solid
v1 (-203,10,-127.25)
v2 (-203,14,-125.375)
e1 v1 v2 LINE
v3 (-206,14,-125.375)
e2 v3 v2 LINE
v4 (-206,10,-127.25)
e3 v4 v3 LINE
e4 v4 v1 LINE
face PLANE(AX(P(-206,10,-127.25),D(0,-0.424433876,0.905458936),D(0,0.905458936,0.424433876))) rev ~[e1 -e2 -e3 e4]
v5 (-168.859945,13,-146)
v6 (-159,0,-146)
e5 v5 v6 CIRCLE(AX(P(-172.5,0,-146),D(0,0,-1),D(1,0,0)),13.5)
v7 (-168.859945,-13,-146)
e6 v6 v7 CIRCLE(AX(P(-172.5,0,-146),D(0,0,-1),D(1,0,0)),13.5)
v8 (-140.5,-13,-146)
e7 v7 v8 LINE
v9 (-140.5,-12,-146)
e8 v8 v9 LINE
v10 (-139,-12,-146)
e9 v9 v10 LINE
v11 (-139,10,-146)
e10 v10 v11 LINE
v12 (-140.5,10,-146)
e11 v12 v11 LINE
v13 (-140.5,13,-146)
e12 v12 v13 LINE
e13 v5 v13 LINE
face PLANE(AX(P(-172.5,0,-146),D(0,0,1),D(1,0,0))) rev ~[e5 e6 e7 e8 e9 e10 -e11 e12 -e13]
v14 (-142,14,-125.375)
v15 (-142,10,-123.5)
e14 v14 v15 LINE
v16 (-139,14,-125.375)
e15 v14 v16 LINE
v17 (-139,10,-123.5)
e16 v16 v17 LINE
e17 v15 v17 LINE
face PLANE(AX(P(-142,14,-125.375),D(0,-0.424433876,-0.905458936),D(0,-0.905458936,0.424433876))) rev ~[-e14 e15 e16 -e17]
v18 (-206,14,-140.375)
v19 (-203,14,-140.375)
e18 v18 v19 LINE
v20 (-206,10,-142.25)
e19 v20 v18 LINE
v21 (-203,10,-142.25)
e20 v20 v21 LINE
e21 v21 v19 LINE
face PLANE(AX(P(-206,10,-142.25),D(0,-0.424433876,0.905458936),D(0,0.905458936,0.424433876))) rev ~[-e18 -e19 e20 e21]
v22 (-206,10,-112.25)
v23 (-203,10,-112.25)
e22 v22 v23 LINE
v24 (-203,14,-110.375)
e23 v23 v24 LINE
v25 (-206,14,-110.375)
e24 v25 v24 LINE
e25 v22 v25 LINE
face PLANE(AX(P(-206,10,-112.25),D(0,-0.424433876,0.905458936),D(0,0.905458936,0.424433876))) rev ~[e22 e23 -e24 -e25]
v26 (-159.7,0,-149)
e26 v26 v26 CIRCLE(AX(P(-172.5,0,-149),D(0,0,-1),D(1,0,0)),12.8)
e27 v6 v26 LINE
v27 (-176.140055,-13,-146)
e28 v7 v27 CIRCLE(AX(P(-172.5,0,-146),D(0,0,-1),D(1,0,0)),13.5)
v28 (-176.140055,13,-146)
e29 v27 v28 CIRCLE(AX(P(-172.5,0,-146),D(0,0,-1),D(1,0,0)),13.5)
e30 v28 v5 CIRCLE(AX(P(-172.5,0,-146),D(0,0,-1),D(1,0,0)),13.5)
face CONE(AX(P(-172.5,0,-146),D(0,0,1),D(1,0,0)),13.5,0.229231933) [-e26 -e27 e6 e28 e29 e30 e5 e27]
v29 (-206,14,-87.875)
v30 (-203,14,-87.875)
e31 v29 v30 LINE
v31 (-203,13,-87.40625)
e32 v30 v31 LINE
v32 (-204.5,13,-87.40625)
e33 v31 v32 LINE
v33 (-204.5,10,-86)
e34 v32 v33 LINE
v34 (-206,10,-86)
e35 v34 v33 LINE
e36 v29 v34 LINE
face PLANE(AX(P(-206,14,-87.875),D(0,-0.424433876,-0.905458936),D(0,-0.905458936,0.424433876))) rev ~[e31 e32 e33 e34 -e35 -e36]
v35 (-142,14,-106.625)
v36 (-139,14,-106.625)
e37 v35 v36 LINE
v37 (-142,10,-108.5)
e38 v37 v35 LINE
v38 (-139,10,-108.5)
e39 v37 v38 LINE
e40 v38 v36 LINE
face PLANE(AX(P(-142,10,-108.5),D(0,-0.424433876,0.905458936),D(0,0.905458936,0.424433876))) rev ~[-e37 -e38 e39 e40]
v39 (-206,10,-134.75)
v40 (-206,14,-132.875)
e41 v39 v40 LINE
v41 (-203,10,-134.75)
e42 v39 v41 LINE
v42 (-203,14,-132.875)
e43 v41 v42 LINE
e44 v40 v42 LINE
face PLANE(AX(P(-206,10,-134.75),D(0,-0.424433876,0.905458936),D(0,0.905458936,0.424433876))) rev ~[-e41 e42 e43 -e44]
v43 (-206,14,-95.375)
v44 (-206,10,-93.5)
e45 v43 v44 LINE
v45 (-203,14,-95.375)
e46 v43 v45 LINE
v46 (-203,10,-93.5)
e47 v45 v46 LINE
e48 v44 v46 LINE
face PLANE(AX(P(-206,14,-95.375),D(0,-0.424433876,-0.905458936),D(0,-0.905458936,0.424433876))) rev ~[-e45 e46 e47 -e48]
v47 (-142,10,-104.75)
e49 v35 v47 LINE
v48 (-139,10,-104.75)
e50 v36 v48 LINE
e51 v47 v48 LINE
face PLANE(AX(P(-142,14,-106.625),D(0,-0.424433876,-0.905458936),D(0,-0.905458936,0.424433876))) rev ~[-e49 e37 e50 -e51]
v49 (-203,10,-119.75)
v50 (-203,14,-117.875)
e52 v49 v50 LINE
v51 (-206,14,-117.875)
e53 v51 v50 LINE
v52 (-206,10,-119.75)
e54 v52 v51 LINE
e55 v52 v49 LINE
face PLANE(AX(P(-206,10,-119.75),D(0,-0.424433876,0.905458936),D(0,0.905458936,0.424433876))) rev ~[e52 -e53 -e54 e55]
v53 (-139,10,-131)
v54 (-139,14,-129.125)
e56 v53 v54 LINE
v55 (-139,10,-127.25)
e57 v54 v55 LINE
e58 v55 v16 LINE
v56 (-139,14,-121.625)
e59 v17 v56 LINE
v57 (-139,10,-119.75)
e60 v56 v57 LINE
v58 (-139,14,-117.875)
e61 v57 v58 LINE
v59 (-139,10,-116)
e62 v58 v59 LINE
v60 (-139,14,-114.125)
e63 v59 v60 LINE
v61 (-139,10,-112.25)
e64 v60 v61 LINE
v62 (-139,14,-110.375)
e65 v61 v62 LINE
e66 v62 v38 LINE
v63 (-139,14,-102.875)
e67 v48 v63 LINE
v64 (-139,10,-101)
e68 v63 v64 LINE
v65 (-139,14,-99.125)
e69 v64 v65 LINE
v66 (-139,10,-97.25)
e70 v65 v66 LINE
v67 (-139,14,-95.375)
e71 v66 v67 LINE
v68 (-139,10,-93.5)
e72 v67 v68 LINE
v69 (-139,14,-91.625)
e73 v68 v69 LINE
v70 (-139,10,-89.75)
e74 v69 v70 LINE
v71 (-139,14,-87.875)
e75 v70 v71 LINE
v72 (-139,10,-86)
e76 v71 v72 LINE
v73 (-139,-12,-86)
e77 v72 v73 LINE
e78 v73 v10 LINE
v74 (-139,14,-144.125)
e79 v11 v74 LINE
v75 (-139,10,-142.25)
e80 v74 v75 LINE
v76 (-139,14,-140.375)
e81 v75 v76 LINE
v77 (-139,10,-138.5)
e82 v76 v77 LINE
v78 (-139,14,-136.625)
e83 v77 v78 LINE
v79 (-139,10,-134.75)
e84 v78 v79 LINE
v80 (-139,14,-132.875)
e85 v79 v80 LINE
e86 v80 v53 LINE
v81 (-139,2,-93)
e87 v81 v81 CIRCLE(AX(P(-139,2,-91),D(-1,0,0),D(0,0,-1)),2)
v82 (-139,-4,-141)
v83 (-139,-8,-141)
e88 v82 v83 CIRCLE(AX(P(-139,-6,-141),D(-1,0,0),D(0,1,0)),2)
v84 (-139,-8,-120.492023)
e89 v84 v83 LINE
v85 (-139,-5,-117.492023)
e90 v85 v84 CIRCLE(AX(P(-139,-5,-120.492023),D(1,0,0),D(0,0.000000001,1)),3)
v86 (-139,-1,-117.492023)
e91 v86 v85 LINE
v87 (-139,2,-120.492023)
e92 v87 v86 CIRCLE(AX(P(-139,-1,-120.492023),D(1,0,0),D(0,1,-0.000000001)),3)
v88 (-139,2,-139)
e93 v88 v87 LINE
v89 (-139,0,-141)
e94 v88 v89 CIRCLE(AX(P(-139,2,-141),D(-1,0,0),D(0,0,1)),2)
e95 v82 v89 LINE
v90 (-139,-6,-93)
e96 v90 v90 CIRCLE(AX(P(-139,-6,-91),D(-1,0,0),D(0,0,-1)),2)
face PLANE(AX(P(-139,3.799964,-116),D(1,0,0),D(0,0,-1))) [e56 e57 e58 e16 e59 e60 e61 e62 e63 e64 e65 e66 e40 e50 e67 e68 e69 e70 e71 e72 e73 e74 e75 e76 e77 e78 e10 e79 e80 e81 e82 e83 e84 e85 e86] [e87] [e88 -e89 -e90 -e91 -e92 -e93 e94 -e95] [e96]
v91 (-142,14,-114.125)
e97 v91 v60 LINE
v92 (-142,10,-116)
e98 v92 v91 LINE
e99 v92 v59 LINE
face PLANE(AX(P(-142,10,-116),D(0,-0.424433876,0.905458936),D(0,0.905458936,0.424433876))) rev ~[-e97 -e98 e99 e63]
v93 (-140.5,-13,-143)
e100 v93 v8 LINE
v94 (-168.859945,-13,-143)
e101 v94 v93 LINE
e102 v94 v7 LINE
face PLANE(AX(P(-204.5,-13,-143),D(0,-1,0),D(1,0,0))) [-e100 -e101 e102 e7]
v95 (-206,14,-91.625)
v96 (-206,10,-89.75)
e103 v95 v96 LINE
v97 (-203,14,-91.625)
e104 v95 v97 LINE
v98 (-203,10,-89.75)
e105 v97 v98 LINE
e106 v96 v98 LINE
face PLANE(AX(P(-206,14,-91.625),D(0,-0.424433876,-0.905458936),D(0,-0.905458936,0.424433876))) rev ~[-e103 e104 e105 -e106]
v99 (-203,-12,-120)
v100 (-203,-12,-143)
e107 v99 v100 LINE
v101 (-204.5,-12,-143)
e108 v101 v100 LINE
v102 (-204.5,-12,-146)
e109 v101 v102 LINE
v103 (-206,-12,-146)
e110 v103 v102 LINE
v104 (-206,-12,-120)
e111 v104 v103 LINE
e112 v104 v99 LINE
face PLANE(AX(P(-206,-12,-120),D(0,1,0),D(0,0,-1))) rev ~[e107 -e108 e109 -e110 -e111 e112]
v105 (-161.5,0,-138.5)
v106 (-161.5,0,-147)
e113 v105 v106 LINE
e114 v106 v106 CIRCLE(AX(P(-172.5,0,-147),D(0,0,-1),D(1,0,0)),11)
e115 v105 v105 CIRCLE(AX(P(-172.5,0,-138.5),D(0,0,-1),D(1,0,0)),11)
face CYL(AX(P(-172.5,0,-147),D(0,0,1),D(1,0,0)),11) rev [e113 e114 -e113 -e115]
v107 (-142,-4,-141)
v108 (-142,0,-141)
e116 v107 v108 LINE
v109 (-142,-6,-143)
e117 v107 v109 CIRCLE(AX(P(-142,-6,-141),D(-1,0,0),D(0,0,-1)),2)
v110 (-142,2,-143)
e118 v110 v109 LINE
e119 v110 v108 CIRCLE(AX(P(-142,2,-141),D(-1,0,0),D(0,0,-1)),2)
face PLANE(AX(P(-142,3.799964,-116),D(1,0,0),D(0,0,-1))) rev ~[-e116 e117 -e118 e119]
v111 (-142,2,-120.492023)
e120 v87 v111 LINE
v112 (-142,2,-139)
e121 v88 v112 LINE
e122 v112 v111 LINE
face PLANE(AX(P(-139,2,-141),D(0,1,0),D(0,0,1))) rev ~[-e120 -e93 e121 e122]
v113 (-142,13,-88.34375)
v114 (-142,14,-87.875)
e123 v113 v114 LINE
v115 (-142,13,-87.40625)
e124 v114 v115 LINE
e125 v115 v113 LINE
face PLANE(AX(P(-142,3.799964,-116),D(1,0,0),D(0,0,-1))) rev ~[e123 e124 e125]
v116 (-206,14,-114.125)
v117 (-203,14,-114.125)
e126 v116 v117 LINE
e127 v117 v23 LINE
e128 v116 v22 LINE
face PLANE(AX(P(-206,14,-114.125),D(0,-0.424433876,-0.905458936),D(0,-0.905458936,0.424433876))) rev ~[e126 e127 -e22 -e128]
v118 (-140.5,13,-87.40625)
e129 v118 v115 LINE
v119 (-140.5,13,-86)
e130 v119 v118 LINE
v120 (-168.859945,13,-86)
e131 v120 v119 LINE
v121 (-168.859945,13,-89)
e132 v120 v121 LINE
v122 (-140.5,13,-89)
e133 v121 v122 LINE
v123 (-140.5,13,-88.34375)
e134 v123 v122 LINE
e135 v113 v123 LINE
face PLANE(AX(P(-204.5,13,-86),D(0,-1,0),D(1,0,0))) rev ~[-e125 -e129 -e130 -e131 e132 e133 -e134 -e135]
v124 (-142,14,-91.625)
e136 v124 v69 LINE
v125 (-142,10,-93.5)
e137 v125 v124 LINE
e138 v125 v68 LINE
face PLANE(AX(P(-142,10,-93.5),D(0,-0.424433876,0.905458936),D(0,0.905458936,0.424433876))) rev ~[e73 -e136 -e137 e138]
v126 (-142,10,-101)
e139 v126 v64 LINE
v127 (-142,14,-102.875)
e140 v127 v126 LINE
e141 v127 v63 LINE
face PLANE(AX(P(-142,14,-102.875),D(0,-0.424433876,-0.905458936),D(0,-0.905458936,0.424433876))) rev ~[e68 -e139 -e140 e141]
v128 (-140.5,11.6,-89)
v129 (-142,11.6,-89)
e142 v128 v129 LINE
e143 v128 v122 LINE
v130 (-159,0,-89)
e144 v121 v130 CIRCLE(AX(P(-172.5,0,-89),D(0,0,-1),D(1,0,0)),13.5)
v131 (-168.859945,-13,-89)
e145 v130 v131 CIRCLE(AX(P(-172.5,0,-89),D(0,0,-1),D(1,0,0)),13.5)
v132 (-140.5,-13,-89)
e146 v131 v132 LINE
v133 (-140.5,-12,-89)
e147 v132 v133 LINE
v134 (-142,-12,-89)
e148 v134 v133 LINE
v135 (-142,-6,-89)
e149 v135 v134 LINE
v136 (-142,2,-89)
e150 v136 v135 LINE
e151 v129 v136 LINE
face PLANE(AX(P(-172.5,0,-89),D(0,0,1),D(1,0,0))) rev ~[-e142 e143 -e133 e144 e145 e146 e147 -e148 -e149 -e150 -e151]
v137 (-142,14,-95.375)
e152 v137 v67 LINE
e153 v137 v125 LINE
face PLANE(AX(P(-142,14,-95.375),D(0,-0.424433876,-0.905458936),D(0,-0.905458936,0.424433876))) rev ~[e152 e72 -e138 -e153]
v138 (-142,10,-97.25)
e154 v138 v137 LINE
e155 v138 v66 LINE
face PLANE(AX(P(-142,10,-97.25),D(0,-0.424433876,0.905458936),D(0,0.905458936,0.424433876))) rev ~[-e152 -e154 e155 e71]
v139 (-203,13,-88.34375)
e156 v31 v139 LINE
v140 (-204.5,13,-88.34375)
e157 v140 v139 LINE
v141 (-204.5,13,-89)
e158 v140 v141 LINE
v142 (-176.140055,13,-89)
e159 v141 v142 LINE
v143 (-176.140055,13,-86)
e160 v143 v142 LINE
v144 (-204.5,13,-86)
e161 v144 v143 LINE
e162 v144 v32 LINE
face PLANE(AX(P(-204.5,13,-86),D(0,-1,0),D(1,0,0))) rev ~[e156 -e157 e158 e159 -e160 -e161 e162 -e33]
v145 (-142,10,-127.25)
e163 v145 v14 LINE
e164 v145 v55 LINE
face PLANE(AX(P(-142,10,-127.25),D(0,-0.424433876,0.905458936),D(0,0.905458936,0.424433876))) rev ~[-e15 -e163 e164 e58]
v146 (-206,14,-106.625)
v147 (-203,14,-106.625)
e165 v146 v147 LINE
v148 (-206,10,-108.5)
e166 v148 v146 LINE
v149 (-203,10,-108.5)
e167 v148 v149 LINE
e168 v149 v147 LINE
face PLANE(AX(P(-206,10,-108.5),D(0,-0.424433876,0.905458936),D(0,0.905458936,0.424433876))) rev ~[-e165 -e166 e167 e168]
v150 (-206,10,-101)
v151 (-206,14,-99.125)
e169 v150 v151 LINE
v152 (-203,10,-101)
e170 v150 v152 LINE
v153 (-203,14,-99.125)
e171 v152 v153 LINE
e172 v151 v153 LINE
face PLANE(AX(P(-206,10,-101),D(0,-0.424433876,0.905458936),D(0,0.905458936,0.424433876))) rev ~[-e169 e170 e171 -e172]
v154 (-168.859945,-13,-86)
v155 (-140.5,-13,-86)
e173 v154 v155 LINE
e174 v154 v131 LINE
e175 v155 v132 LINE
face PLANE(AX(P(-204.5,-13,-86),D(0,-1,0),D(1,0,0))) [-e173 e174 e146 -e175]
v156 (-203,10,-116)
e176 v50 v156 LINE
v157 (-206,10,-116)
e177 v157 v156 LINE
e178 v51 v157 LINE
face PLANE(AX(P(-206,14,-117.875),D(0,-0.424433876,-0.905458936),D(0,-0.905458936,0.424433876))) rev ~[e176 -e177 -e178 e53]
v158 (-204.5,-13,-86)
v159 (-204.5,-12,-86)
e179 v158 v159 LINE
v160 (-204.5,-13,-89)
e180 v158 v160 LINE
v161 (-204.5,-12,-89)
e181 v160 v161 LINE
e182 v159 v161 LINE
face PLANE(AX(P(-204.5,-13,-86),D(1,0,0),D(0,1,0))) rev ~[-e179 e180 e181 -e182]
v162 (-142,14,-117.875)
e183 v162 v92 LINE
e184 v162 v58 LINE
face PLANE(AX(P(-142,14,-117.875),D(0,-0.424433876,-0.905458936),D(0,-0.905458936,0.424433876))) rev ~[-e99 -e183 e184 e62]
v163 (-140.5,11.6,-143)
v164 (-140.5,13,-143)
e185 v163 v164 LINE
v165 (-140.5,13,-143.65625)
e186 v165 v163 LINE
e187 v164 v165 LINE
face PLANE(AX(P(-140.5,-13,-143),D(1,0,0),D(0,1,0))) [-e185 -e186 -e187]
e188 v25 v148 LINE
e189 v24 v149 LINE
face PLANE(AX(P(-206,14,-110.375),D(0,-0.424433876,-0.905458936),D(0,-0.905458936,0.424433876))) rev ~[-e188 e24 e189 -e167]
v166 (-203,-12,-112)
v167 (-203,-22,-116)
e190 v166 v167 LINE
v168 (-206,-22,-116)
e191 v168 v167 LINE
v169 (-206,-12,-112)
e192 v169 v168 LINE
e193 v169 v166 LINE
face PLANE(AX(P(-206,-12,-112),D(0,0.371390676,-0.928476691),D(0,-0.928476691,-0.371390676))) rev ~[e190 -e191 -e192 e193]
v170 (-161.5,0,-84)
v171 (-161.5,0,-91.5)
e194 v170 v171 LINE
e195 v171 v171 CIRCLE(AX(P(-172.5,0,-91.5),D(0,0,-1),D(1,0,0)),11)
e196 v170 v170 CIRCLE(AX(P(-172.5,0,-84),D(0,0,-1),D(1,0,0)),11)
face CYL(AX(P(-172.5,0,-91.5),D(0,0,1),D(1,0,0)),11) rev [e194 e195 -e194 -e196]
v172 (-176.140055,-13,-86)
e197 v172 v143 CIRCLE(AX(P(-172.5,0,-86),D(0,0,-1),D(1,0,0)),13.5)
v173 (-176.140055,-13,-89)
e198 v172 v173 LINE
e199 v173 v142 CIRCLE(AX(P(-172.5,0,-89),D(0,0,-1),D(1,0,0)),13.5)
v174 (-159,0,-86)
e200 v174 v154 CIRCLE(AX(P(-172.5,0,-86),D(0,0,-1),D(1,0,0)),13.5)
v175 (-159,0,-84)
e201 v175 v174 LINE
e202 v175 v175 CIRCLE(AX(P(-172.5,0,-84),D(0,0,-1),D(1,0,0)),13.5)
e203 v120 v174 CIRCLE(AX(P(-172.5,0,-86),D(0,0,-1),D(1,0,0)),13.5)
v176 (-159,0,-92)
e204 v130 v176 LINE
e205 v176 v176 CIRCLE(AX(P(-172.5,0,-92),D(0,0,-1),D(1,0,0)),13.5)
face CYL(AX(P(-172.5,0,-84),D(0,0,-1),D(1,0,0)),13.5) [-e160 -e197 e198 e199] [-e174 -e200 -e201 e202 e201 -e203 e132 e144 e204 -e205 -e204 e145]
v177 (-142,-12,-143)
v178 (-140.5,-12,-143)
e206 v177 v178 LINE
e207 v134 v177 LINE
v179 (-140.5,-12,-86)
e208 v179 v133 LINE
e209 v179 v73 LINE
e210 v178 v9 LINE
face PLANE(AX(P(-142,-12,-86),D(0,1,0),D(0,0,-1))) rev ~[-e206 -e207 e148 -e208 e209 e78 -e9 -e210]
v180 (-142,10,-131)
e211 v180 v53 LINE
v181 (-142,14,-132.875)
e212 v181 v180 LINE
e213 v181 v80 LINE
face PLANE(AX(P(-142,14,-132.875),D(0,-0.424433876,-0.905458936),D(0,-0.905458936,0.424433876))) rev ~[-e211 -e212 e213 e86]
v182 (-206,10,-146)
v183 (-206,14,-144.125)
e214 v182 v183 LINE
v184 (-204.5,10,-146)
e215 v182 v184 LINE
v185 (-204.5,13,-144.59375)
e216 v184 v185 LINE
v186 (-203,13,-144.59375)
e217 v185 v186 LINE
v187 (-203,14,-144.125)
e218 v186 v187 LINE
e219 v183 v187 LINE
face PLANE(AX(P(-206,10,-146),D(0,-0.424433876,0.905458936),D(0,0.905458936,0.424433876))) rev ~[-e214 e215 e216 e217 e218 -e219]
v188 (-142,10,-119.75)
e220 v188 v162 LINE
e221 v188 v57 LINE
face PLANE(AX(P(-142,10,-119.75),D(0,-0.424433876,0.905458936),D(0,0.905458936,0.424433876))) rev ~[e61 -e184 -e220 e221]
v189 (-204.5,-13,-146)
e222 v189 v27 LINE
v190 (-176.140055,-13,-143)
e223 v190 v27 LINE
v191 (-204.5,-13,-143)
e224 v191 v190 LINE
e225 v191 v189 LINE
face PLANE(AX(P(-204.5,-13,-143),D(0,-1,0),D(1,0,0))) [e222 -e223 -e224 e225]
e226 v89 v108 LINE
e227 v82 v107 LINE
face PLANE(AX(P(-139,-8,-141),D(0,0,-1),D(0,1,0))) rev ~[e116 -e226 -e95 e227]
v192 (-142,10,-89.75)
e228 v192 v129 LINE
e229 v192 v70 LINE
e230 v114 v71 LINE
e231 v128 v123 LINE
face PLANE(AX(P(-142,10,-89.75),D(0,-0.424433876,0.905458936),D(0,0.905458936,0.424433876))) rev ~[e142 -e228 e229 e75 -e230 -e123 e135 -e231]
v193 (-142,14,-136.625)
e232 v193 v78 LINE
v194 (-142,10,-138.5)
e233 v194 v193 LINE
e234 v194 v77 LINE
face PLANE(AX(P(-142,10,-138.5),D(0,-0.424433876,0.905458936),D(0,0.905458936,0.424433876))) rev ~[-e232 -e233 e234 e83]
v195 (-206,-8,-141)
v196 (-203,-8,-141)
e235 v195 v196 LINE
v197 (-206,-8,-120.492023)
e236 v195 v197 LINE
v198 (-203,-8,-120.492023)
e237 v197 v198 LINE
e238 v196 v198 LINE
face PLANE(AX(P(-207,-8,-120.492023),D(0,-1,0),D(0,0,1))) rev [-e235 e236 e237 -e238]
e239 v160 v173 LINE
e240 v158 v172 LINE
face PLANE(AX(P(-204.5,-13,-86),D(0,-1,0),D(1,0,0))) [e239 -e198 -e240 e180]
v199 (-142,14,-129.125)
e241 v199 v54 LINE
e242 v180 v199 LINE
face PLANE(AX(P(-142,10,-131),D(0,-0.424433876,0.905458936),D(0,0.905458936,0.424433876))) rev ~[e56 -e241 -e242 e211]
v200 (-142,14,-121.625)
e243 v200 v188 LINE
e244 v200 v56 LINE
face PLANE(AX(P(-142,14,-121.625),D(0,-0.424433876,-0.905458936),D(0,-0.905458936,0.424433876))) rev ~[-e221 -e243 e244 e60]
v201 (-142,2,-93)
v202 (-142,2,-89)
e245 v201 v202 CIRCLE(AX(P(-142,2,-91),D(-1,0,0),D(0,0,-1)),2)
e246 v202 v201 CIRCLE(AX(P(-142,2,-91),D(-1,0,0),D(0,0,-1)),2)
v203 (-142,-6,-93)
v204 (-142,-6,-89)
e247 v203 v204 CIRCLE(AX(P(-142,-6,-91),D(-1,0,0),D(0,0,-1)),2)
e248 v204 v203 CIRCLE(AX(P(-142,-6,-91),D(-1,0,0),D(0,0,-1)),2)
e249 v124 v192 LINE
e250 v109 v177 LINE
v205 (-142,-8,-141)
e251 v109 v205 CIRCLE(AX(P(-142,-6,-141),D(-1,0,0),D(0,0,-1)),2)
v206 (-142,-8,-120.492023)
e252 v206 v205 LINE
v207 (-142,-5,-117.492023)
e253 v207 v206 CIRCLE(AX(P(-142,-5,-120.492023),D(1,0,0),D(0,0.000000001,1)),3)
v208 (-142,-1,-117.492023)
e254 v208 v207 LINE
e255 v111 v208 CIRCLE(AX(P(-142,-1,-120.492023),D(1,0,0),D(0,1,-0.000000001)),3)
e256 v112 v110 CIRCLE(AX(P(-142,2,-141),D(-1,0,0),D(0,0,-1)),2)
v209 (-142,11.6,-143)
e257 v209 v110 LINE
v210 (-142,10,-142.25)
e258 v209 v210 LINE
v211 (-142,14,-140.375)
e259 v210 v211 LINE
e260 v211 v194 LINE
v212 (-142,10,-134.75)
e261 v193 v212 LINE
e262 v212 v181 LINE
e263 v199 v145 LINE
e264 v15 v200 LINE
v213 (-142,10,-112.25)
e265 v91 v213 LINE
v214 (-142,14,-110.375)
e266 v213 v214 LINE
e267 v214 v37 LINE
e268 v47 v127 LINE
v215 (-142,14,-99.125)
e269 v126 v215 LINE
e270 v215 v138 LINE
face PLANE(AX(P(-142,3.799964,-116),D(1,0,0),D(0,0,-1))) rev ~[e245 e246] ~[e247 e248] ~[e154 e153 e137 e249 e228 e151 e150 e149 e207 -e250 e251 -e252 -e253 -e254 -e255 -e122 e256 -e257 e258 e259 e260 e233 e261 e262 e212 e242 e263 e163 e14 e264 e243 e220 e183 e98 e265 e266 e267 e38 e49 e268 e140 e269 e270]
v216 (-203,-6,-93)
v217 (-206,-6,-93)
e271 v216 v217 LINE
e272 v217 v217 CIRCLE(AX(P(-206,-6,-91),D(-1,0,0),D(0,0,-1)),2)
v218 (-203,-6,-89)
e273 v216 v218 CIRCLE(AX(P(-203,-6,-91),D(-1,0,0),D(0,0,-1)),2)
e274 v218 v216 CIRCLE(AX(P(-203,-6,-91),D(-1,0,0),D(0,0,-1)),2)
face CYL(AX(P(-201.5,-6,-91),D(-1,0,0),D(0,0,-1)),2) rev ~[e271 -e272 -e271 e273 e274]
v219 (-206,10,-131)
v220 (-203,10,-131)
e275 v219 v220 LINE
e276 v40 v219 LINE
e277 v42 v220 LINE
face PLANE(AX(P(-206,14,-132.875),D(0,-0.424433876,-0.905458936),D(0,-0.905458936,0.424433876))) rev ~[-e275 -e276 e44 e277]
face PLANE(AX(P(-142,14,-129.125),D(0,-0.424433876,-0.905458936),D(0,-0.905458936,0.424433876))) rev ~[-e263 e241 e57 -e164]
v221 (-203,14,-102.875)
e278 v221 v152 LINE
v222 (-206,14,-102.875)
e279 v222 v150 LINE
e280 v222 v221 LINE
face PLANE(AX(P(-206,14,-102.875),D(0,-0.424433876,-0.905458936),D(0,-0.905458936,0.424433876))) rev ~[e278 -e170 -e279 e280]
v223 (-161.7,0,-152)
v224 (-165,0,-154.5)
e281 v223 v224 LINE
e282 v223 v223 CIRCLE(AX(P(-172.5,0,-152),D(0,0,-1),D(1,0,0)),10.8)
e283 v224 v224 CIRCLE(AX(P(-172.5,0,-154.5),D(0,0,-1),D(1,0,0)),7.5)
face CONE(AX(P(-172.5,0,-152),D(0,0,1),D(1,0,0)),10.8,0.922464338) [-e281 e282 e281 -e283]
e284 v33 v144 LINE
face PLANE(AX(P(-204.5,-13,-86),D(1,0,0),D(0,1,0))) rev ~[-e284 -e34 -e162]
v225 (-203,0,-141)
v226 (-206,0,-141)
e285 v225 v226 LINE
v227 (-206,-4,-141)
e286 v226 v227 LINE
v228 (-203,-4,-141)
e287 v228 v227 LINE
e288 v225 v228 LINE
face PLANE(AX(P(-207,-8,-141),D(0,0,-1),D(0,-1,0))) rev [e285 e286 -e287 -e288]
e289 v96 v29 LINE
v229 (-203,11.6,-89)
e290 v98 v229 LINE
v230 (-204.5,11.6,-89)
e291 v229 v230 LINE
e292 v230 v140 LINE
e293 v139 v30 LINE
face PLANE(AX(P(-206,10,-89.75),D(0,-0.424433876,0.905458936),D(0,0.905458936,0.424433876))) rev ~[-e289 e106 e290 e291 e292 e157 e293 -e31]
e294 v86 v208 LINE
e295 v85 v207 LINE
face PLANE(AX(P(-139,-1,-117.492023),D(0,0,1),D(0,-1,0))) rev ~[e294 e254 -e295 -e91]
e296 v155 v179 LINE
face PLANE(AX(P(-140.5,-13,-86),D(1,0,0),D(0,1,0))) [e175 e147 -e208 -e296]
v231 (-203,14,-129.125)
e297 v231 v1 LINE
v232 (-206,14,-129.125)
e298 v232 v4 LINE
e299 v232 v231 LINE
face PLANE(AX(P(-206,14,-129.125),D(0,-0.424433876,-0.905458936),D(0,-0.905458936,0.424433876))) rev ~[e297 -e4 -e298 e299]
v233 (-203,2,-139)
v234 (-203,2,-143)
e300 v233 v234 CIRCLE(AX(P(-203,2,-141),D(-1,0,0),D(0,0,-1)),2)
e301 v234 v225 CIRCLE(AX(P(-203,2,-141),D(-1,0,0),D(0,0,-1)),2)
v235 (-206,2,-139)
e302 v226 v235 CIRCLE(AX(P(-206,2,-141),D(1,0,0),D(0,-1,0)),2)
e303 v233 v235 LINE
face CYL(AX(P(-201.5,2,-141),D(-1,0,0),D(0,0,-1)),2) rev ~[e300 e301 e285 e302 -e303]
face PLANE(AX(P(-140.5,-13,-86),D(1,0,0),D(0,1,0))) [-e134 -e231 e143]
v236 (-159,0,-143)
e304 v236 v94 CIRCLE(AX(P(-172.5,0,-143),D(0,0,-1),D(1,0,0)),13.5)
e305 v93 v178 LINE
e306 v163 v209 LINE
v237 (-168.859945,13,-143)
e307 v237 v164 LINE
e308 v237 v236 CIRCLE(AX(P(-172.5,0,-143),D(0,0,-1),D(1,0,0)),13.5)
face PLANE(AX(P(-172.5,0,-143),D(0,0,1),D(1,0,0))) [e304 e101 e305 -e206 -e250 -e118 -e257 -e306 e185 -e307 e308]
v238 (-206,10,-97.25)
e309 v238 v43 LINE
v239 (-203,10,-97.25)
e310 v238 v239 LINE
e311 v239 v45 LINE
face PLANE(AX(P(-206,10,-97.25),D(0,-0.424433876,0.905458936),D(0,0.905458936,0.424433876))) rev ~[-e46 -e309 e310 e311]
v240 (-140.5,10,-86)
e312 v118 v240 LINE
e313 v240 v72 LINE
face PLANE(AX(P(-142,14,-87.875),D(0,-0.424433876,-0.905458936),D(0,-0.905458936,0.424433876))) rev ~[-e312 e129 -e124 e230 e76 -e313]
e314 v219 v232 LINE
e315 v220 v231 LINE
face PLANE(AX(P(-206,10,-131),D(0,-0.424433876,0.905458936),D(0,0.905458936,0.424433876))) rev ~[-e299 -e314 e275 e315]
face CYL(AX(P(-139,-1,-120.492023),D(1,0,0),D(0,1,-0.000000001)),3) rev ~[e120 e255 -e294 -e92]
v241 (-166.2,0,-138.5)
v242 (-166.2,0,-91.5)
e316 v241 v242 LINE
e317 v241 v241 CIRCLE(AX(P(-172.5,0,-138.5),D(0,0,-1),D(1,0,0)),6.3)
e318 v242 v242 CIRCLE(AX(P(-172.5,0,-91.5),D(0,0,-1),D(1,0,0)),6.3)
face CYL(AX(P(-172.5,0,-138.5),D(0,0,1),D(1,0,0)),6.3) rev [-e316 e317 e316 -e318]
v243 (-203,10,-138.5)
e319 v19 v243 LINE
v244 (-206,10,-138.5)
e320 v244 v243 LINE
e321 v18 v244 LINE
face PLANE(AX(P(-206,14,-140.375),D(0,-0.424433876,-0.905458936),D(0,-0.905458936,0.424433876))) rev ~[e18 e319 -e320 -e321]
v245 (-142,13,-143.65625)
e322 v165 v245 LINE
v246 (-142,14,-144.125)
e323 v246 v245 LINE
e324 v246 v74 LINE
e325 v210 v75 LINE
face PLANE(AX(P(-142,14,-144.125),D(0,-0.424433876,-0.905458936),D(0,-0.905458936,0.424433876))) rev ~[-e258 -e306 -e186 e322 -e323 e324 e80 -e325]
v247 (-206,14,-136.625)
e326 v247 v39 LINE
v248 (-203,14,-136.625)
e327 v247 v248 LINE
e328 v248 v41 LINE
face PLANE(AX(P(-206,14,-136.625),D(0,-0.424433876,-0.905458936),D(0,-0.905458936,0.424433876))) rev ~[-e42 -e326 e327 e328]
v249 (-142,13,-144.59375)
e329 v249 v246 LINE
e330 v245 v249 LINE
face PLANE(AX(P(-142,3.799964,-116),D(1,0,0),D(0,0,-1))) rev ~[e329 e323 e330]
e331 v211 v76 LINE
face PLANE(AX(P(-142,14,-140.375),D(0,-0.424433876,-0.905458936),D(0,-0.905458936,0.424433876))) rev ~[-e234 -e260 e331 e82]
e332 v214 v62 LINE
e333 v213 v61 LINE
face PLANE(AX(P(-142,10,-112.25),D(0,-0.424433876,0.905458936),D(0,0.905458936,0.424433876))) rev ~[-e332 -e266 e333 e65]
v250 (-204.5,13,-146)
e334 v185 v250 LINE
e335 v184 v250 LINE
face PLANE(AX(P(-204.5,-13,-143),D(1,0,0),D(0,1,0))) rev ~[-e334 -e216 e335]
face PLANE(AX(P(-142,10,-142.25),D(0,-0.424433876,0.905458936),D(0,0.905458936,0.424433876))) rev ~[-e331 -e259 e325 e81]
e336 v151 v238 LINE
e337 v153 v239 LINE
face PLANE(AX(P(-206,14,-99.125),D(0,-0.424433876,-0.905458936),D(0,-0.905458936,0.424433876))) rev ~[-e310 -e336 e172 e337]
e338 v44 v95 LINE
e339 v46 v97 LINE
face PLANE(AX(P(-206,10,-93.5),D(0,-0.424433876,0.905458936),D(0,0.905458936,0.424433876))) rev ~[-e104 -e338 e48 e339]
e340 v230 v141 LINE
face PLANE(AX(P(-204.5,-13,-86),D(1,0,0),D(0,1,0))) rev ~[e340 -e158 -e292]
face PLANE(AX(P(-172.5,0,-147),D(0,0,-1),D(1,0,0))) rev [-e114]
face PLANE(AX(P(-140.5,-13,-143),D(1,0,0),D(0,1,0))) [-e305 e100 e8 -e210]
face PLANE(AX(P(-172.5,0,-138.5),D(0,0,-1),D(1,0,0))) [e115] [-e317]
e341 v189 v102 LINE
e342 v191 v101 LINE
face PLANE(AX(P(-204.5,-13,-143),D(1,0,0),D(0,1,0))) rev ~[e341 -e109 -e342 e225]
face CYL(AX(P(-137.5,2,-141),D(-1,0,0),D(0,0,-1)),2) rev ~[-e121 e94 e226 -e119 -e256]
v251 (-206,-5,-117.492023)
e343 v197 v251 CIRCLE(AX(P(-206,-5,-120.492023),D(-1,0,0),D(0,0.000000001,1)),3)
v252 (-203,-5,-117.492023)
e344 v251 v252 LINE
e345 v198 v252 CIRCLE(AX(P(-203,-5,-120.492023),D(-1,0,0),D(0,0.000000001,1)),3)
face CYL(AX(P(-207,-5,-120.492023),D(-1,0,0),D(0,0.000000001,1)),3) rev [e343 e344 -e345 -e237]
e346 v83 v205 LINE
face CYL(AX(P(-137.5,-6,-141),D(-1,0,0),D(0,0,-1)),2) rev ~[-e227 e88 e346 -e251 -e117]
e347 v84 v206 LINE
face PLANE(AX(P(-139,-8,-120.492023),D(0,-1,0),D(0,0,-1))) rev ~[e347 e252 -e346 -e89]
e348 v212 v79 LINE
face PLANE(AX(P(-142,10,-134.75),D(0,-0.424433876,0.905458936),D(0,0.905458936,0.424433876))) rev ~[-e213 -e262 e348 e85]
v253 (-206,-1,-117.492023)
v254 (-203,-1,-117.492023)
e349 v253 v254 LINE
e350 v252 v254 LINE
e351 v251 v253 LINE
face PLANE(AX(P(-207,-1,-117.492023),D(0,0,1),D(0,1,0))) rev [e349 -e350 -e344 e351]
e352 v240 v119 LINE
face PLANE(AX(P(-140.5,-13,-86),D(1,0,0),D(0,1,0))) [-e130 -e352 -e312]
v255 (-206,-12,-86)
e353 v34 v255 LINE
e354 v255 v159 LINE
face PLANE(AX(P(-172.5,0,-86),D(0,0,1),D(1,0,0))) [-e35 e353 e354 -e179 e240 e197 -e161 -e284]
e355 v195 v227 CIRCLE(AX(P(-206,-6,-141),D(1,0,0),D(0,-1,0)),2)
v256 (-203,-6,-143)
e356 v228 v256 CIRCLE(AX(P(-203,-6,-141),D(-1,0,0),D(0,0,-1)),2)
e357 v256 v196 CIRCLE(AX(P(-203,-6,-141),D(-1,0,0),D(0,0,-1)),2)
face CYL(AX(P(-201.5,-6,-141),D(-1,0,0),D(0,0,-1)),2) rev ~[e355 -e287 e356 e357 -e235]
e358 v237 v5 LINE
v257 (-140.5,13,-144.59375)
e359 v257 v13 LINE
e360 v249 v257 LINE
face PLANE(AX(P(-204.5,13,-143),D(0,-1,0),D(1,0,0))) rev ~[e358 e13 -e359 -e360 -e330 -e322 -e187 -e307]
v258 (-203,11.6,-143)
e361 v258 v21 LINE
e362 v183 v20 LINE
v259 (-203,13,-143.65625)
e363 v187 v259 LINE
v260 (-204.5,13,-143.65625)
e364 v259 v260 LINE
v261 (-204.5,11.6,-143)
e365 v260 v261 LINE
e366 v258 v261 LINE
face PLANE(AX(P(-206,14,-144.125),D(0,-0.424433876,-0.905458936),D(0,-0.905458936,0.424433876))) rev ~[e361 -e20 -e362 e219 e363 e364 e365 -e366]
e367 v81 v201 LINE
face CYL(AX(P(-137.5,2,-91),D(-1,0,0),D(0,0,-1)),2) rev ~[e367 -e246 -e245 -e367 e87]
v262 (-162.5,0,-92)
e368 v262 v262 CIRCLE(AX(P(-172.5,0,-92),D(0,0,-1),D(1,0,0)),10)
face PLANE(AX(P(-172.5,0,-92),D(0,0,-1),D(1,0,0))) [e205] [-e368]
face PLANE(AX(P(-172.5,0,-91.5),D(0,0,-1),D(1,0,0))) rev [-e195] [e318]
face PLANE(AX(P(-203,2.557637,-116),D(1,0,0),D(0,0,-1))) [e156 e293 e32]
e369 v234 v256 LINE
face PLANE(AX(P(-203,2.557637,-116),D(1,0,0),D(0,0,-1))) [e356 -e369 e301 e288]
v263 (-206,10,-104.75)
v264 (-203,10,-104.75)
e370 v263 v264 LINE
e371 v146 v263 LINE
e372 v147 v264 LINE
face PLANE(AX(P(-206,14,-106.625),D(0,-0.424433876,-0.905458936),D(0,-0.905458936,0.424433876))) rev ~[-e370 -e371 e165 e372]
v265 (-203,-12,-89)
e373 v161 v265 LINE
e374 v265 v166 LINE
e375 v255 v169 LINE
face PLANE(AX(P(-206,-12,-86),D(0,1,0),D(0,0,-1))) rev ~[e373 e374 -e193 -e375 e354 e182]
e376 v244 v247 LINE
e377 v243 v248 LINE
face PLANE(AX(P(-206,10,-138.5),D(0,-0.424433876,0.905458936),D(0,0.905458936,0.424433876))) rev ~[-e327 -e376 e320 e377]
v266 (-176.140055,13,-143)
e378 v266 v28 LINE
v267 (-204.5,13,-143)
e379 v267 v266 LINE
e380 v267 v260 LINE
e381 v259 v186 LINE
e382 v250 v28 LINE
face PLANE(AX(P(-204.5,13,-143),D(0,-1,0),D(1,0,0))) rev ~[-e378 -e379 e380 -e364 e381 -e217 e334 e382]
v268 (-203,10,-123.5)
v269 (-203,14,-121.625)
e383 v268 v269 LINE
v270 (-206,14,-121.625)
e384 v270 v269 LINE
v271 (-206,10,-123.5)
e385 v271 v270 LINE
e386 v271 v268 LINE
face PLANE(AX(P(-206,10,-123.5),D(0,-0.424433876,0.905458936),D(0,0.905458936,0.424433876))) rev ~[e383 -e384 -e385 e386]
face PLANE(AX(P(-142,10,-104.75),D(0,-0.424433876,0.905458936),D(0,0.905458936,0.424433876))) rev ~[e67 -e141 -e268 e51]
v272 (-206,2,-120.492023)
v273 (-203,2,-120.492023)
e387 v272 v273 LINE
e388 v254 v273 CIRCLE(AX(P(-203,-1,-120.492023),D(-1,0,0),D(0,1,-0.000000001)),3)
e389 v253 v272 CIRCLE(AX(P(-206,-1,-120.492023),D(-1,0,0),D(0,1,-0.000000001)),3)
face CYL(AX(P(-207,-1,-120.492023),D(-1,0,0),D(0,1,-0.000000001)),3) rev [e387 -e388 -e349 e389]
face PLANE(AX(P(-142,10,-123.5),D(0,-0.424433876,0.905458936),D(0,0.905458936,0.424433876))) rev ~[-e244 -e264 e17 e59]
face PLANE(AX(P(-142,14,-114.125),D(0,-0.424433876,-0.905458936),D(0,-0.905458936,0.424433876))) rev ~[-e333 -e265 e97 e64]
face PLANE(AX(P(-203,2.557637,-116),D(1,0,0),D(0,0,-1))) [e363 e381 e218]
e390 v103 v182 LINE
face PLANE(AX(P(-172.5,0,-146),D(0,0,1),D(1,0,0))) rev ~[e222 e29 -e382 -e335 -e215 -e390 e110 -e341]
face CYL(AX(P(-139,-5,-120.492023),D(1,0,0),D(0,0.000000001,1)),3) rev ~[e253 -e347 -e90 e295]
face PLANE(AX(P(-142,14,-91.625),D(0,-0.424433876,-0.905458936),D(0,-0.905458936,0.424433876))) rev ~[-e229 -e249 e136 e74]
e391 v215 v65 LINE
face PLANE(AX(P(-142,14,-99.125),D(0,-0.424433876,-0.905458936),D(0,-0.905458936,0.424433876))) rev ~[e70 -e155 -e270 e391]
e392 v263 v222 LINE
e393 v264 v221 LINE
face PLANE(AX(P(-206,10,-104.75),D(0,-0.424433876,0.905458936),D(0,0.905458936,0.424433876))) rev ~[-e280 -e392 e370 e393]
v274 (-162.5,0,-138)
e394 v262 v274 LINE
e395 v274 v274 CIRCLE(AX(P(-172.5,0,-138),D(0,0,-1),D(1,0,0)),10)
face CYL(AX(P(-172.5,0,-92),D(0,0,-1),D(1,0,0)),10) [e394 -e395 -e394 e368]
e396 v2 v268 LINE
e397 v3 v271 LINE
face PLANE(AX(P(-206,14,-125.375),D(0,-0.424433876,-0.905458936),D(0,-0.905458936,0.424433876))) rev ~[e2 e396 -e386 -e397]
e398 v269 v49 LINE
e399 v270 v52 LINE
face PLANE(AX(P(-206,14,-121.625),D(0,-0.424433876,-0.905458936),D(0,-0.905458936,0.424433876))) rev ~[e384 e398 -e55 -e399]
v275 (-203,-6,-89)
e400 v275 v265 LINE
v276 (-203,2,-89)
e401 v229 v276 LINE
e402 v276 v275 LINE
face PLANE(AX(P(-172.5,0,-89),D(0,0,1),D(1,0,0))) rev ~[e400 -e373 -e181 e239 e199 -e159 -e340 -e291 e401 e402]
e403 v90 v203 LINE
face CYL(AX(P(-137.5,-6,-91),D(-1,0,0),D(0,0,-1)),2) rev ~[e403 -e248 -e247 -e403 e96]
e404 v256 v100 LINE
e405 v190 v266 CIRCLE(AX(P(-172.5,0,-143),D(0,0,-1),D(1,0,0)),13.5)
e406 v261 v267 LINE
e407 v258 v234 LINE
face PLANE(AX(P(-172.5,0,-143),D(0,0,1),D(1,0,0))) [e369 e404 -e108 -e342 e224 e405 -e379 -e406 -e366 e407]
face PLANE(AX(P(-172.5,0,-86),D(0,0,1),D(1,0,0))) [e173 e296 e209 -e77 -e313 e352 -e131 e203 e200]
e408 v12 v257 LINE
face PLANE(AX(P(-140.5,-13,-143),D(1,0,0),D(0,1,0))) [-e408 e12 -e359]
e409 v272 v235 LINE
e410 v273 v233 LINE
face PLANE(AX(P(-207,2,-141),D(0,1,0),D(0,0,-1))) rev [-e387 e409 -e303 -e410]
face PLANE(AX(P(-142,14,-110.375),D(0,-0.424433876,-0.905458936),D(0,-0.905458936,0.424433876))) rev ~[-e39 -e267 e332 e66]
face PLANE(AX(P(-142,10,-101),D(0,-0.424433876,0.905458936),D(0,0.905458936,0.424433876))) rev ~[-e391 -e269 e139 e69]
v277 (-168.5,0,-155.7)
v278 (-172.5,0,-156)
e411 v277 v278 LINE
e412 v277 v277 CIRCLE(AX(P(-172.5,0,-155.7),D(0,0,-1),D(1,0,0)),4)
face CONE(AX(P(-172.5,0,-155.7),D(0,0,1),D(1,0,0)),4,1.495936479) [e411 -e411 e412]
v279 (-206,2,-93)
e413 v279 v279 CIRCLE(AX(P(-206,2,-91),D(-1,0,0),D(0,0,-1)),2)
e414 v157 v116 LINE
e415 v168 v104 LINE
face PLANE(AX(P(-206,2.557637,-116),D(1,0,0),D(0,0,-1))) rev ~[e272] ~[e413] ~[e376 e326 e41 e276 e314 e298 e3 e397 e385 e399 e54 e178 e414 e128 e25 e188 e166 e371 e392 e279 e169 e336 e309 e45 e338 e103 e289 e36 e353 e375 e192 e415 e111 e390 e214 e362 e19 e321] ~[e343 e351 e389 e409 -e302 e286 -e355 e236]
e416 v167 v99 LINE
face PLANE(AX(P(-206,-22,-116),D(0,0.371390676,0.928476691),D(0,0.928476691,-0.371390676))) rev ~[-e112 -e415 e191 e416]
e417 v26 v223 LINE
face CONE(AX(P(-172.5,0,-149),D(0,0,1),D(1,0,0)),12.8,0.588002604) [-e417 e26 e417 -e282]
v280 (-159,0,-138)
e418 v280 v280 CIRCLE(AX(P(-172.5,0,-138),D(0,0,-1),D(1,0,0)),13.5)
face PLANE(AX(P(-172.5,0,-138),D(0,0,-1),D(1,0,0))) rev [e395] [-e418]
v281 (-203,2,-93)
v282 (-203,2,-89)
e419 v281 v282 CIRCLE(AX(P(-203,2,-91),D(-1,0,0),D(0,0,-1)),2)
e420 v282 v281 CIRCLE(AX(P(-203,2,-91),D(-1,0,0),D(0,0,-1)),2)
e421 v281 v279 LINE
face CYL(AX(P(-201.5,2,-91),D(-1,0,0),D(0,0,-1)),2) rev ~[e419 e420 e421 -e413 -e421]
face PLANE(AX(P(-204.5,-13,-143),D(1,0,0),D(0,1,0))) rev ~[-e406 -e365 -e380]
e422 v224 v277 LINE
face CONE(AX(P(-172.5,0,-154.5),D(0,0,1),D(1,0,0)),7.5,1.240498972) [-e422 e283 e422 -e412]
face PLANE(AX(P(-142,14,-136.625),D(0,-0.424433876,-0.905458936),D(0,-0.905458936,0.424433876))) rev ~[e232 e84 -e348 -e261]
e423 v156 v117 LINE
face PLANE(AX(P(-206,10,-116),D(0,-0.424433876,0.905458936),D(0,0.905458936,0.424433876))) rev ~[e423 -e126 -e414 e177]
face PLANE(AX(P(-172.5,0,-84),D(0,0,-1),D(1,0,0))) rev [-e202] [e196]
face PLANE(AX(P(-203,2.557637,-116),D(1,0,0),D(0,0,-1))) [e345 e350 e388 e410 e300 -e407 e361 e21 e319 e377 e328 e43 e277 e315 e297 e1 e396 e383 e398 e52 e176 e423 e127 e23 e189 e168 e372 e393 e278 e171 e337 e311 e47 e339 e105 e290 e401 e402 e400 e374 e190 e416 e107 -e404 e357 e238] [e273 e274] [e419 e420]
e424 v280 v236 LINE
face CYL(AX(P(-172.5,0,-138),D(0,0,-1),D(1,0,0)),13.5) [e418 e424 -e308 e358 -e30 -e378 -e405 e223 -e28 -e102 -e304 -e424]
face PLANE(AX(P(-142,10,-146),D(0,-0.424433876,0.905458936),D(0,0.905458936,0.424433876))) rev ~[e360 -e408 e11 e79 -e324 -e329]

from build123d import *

# Parameters (mm, degrees)
PLACA_DELANTERA_START               = -206
PLACA_DELANTERA_DEPTH               = 3
AGUJERO_PLACA_DELANTERA_1_PROFILE_R = 2
AGUJERO_PLACA_DELANTERA_2_PROFILE_R = 2
AGUJERO_PLACA_DELANTERA_3_PROFILE_R = 2
AGUJERO_PLACA_DELANTERA_4_PROFILE_R = 2
PLACA_TRASERA_START                 = -142
PLACA_TRASERA_DEPTH                 = 3
AGUJERO_PLACA_TRASERA_1_PROFILE_R   = 2
AGUJERO_PLACA_TRASERA_2_PROFILE_R   = 2
AGUJERO_PLACA_TRASERA_3_PROFILE_R   = 2
AGUJERO_PLACA_TRASERA_4_PROFILE_R   = 2
MARCO_INTERIOR_START                = -86
SK_MARCO_INTERIOR_W                 = 64
SK_MARCO_INTERIOR_H                 = 26
SK_MARCO_INTERIOR_R                 = 11
MARCO_INTERIOR_DEPTH                = 3
MARCO_EXTERIOR_START                = -143
SK_MARCO_EXTERIOR_W                 = 64
SK_MARCO_EXTERIOR_H                 = 26
SK_MARCO_EXTERIOR_R                 = 11
MARCO_EXTERIOR_DEPTH                = 3
CORTAR_EXTRUIR2_DEPTH               = 10


with BuildPart() as part:
    # Sk_Eje_cuerpo → Eje_cuerpo (revolve)
    with BuildSketch(Plane(origin=(0, 0, 0), x_dir=(1, 0, 0), z_dir=(0, 1, 0))):
        Polygon((-183.5, 84), (-186, 84), (-186, 92), (-182.5, 92), (-182.5, 138), (-186, 138), (-186, 146), (-185.3, 149), (-183.3, 152), (-180, 154.5), (-176.5, 155.7), (-172.5, 156), (-172.5, 147), (-183.5, 147), (-183.5, 138.5), (-178.8, 138.5), (-178.8, 91.5), (-183.5, 91.5), align=None)
    revolve(axis=Axis((-172.5, 0, -62.1), (0, 0, -1)))



with BuildPart() as body_2:
    # Sk_Placa_delantera → Placa_delantera (new body)
    with BuildSketch(Plane(origin=(0, 0, 0), x_dir=(0, 0, -1), z_dir=(1, 0, 0)).offset(PLACA_DELANTERA_START)):
        Polygon((86, -12), (112, -12), (116, -22), (120, -12), (146, -12), (146, 10), (144.125, 14), (142.25, 10), (140.375, 14), (138.5, 10), (136.625, 14), (134.75, 10), (132.875, 14), (131, 10), (129.125, 14), (127.25, 10), (125.375, 14), (123.5, 10), (121.625, 14), (119.75, 10), (117.875, 14), (116, 10), (114.125, 14), (112.25, 10), (110.375, 14), (108.5, 10), (106.625, 14), (104.75, 10), (102.875, 14), (101, 10), (99.125, 14), (97.25, 10), (95.375, 14), (93.5, 10), (91.625, 14), (89.75, 10), (87.875, 14), (86, 10), align=None)
    extrude(amount=PLACA_DELANTERA_DEPTH)

    # Agujero_Placa_delantera_1: sweep along a curve in space
    with BuildLine() as agujero_placa_delantera_1_path:
        Line((-201.5, -6, -91), (-207.5, -6, -91))
    # Agujero_Placa_delantera_1 profile (on start of the path) → Agujero_Placa_delantera_1 (sweep, cut)
    with BuildSketch(Plane(origin=(-201.5, -6, -91), x_dir=(0, 0, -1), z_dir=(-1, 0, 0))):
        Circle(AGUJERO_PLACA_DELANTERA_1_PROFILE_R)
    sweep(path=agujero_placa_delantera_1_path.line, mode=Mode.SUBTRACT)

    # Agujero_Placa_delantera_2: sweep along a curve in space
    with BuildLine() as agujero_placa_delantera_2_path:
        Line((-201.5, 2, -91), (-207.5, 2, -91))
    # Agujero_Placa_delantera_2 profile (on start of the path) → Agujero_Placa_delantera_2 (sweep, cut)
    with BuildSketch(Plane(origin=(-201.5, 2, -91), x_dir=(0, 0, -1), z_dir=(-1, 0, 0))):
        Circle(AGUJERO_PLACA_DELANTERA_2_PROFILE_R)
    sweep(path=agujero_placa_delantera_2_path.line, mode=Mode.SUBTRACT)

    # Agujero_Placa_delantera_3: sweep along a curve in space
    with BuildLine() as agujero_placa_delantera_3_path:
        Line((-201.5, -6, -141), (-207.5, -6, -141))
    # Agujero_Placa_delantera_3 profile (on start of the path) → Agujero_Placa_delantera_3 (sweep, cut)
    with BuildSketch(Plane(origin=(-201.5, -6, -141), x_dir=(0, 0, -1), z_dir=(-1, 0, 0))):
        Circle(AGUJERO_PLACA_DELANTERA_3_PROFILE_R)
    sweep(path=agujero_placa_delantera_3_path.line, mode=Mode.SUBTRACT)

    # Agujero_Placa_delantera_4: sweep along a curve in space
    with BuildLine() as agujero_placa_delantera_4_path:
        Line((-201.5, 2, -141), (-207.5, 2, -141))
    # Agujero_Placa_delantera_4 profile (on start of the path) → Agujero_Placa_delantera_4 (sweep, cut)
    with BuildSketch(Plane(origin=(-201.5, 2, -141), x_dir=(0, 0, -1), z_dir=(-1, 0, 0))):
        Circle(AGUJERO_PLACA_DELANTERA_4_PROFILE_R)
    sweep(path=agujero_placa_delantera_4_path.line, mode=Mode.SUBTRACT)


with BuildPart() as body_3:
    # Sk_Placa_trasera → Placa_trasera (new body)
    with BuildSketch(Plane(origin=(0, 0, 0), x_dir=(0, 0, -1), z_dir=(1, 0, 0)).offset(PLACA_TRASERA_START)):
        Polygon((86, -12), (146, -12), (146, 10), (144.125, 14), (142.25, 10), (140.375, 14), (138.5, 10), (136.625, 14), (134.75, 10), (132.875, 14), (131, 10), (129.125, 14), (127.25, 10), (125.375, 14), (123.5, 10), (121.625, 14), (119.75, 10), (117.875, 14), (116, 10), (114.125, 14), (112.25, 10), (110.375, 14), (108.5, 10), (106.625, 14), (104.75, 10), (102.875, 14), (101, 10), (99.125, 14), (97.25, 10), (95.375, 14), (93.5, 10), (91.625, 14), (89.75, 10), (87.875, 14), (86, 10), align=None)
    extrude(amount=PLACA_TRASERA_DEPTH)

    # Agujero_Placa_trasera_1: sweep along a curve in space
    with BuildLine() as agujero_placa_trasera_1_path:
        Line((-137.5, -6, -91), (-143.5, -6, -91))
    # Agujero_Placa_trasera_1 profile (on start of the path) → Agujero_Placa_trasera_1 (sweep, cut)
    with BuildSketch(Plane(origin=(-137.5, -6, -91), x_dir=(0, 0, -1), z_dir=(-1, 0, 0))):
        Circle(AGUJERO_PLACA_TRASERA_1_PROFILE_R)
    sweep(path=agujero_placa_trasera_1_path.line, mode=Mode.SUBTRACT)

    # Agujero_Placa_trasera_2: sweep along a curve in space
    with BuildLine() as agujero_placa_trasera_2_path:
        Line((-137.5, 2, -91), (-143.5, 2, -91))
    # Agujero_Placa_trasera_2 profile (on start of the path) → Agujero_Placa_trasera_2 (sweep, cut)
    with BuildSketch(Plane(origin=(-137.5, 2, -91), x_dir=(0, 0, -1), z_dir=(-1, 0, 0))):
        Circle(AGUJERO_PLACA_TRASERA_2_PROFILE_R)
    sweep(path=agujero_placa_trasera_2_path.line, mode=Mode.SUBTRACT)

    # Agujero_Placa_trasera_3: sweep along a curve in space
    with BuildLine() as agujero_placa_trasera_3_path:
        Line((-137.5, -6, -141), (-143.5, -6, -141))
    # Agujero_Placa_trasera_3 profile (on start of the path) → Agujero_Placa_trasera_3 (sweep, cut)
    with BuildSketch(Plane(origin=(-137.5, -6, -141), x_dir=(0, 0, -1), z_dir=(-1, 0, 0))):
        Circle(AGUJERO_PLACA_TRASERA_3_PROFILE_R)
    sweep(path=agujero_placa_trasera_3_path.line, mode=Mode.SUBTRACT)

    # Agujero_Placa_trasera_4: sweep along a curve in space
    with BuildLine() as agujero_placa_trasera_4_path:
        Line((-137.5, 2, -141), (-143.5, 2, -141))
    # Agujero_Placa_trasera_4 profile (on start of the path) → Agujero_Placa_trasera_4 (sweep, cut)
    with BuildSketch(Plane(origin=(-137.5, 2, -141), x_dir=(0, 0, -1), z_dir=(-1, 0, 0))):
        Circle(AGUJERO_PLACA_TRASERA_4_PROFILE_R)
    sweep(path=agujero_placa_trasera_4_path.line, mode=Mode.SUBTRACT)


with BuildPart() as part_1:
    add(part.part)

    add(body_2.part)  # Marco_interior merges body 2

    add(body_3.part)  # Marco_interior merges body 3
    # Sk_Marco_interior → Marco_interior (add)
    with BuildSketch(Plane.XY.offset(MARCO_INTERIOR_START)):
        with Locations((-172.5, 0)):
            Rectangle(SK_MARCO_INTERIOR_W, SK_MARCO_INTERIOR_H)
        with Locations((-172.5, 0)):
            Circle(SK_MARCO_INTERIOR_R, mode=Mode.SUBTRACT)
    extrude(amount=-MARCO_INTERIOR_DEPTH)

    # Sk_Marco_exterior → Marco_exterior (add)
    with BuildSketch(Plane.XY.offset(MARCO_EXTERIOR_START)):
        with Locations((-172.5, 0)):
            Rectangle(SK_MARCO_EXTERIOR_W, SK_MARCO_EXTERIOR_H)
        with Locations((-172.5, 0)):
            Circle(SK_MARCO_EXTERIOR_R, mode=Mode.SUBTRACT)
    extrude(amount=-MARCO_EXTERIOR_DEPTH)

    # Croquis1 → Cortar-Extruir2 (cut)
    with BuildSketch(Plane(origin=(-139, 0, 0), x_dir=(0, 0, -1), z_dir=(1, 0, 0))):
        with BuildLine():
            Line((117.492022853, -1), (117.492022853, -5))
            ThreePointArc((117.492022853, -5), (118.370702509, -7.121320344), (120.492022853, -8))
            Line((120.492022853, -8), (141, -8))
            Line((141, -8), (141, 2))
            Line((141, 2), (120.492022853, 2))
            ThreePointArc((120.492022853, 2), (118.370702509, 1.121320344), (117.492022853, -1))
        make_face()
    cortar_extruir2 = extrude(amount=-CORTAR_EXTRUIR2_DEPTH, mode=Mode.SUBTRACT)

    # Simetría1: Cortar-Extruir2 across plane
    add(cortar_extruir2.mirror(Plane(origin=(-173, 0, 0), x_dir=(0, 0, 1), z_dir=(1, 0, 0))), mode=Mode.SUBTRACT)


solid = part_1.part
